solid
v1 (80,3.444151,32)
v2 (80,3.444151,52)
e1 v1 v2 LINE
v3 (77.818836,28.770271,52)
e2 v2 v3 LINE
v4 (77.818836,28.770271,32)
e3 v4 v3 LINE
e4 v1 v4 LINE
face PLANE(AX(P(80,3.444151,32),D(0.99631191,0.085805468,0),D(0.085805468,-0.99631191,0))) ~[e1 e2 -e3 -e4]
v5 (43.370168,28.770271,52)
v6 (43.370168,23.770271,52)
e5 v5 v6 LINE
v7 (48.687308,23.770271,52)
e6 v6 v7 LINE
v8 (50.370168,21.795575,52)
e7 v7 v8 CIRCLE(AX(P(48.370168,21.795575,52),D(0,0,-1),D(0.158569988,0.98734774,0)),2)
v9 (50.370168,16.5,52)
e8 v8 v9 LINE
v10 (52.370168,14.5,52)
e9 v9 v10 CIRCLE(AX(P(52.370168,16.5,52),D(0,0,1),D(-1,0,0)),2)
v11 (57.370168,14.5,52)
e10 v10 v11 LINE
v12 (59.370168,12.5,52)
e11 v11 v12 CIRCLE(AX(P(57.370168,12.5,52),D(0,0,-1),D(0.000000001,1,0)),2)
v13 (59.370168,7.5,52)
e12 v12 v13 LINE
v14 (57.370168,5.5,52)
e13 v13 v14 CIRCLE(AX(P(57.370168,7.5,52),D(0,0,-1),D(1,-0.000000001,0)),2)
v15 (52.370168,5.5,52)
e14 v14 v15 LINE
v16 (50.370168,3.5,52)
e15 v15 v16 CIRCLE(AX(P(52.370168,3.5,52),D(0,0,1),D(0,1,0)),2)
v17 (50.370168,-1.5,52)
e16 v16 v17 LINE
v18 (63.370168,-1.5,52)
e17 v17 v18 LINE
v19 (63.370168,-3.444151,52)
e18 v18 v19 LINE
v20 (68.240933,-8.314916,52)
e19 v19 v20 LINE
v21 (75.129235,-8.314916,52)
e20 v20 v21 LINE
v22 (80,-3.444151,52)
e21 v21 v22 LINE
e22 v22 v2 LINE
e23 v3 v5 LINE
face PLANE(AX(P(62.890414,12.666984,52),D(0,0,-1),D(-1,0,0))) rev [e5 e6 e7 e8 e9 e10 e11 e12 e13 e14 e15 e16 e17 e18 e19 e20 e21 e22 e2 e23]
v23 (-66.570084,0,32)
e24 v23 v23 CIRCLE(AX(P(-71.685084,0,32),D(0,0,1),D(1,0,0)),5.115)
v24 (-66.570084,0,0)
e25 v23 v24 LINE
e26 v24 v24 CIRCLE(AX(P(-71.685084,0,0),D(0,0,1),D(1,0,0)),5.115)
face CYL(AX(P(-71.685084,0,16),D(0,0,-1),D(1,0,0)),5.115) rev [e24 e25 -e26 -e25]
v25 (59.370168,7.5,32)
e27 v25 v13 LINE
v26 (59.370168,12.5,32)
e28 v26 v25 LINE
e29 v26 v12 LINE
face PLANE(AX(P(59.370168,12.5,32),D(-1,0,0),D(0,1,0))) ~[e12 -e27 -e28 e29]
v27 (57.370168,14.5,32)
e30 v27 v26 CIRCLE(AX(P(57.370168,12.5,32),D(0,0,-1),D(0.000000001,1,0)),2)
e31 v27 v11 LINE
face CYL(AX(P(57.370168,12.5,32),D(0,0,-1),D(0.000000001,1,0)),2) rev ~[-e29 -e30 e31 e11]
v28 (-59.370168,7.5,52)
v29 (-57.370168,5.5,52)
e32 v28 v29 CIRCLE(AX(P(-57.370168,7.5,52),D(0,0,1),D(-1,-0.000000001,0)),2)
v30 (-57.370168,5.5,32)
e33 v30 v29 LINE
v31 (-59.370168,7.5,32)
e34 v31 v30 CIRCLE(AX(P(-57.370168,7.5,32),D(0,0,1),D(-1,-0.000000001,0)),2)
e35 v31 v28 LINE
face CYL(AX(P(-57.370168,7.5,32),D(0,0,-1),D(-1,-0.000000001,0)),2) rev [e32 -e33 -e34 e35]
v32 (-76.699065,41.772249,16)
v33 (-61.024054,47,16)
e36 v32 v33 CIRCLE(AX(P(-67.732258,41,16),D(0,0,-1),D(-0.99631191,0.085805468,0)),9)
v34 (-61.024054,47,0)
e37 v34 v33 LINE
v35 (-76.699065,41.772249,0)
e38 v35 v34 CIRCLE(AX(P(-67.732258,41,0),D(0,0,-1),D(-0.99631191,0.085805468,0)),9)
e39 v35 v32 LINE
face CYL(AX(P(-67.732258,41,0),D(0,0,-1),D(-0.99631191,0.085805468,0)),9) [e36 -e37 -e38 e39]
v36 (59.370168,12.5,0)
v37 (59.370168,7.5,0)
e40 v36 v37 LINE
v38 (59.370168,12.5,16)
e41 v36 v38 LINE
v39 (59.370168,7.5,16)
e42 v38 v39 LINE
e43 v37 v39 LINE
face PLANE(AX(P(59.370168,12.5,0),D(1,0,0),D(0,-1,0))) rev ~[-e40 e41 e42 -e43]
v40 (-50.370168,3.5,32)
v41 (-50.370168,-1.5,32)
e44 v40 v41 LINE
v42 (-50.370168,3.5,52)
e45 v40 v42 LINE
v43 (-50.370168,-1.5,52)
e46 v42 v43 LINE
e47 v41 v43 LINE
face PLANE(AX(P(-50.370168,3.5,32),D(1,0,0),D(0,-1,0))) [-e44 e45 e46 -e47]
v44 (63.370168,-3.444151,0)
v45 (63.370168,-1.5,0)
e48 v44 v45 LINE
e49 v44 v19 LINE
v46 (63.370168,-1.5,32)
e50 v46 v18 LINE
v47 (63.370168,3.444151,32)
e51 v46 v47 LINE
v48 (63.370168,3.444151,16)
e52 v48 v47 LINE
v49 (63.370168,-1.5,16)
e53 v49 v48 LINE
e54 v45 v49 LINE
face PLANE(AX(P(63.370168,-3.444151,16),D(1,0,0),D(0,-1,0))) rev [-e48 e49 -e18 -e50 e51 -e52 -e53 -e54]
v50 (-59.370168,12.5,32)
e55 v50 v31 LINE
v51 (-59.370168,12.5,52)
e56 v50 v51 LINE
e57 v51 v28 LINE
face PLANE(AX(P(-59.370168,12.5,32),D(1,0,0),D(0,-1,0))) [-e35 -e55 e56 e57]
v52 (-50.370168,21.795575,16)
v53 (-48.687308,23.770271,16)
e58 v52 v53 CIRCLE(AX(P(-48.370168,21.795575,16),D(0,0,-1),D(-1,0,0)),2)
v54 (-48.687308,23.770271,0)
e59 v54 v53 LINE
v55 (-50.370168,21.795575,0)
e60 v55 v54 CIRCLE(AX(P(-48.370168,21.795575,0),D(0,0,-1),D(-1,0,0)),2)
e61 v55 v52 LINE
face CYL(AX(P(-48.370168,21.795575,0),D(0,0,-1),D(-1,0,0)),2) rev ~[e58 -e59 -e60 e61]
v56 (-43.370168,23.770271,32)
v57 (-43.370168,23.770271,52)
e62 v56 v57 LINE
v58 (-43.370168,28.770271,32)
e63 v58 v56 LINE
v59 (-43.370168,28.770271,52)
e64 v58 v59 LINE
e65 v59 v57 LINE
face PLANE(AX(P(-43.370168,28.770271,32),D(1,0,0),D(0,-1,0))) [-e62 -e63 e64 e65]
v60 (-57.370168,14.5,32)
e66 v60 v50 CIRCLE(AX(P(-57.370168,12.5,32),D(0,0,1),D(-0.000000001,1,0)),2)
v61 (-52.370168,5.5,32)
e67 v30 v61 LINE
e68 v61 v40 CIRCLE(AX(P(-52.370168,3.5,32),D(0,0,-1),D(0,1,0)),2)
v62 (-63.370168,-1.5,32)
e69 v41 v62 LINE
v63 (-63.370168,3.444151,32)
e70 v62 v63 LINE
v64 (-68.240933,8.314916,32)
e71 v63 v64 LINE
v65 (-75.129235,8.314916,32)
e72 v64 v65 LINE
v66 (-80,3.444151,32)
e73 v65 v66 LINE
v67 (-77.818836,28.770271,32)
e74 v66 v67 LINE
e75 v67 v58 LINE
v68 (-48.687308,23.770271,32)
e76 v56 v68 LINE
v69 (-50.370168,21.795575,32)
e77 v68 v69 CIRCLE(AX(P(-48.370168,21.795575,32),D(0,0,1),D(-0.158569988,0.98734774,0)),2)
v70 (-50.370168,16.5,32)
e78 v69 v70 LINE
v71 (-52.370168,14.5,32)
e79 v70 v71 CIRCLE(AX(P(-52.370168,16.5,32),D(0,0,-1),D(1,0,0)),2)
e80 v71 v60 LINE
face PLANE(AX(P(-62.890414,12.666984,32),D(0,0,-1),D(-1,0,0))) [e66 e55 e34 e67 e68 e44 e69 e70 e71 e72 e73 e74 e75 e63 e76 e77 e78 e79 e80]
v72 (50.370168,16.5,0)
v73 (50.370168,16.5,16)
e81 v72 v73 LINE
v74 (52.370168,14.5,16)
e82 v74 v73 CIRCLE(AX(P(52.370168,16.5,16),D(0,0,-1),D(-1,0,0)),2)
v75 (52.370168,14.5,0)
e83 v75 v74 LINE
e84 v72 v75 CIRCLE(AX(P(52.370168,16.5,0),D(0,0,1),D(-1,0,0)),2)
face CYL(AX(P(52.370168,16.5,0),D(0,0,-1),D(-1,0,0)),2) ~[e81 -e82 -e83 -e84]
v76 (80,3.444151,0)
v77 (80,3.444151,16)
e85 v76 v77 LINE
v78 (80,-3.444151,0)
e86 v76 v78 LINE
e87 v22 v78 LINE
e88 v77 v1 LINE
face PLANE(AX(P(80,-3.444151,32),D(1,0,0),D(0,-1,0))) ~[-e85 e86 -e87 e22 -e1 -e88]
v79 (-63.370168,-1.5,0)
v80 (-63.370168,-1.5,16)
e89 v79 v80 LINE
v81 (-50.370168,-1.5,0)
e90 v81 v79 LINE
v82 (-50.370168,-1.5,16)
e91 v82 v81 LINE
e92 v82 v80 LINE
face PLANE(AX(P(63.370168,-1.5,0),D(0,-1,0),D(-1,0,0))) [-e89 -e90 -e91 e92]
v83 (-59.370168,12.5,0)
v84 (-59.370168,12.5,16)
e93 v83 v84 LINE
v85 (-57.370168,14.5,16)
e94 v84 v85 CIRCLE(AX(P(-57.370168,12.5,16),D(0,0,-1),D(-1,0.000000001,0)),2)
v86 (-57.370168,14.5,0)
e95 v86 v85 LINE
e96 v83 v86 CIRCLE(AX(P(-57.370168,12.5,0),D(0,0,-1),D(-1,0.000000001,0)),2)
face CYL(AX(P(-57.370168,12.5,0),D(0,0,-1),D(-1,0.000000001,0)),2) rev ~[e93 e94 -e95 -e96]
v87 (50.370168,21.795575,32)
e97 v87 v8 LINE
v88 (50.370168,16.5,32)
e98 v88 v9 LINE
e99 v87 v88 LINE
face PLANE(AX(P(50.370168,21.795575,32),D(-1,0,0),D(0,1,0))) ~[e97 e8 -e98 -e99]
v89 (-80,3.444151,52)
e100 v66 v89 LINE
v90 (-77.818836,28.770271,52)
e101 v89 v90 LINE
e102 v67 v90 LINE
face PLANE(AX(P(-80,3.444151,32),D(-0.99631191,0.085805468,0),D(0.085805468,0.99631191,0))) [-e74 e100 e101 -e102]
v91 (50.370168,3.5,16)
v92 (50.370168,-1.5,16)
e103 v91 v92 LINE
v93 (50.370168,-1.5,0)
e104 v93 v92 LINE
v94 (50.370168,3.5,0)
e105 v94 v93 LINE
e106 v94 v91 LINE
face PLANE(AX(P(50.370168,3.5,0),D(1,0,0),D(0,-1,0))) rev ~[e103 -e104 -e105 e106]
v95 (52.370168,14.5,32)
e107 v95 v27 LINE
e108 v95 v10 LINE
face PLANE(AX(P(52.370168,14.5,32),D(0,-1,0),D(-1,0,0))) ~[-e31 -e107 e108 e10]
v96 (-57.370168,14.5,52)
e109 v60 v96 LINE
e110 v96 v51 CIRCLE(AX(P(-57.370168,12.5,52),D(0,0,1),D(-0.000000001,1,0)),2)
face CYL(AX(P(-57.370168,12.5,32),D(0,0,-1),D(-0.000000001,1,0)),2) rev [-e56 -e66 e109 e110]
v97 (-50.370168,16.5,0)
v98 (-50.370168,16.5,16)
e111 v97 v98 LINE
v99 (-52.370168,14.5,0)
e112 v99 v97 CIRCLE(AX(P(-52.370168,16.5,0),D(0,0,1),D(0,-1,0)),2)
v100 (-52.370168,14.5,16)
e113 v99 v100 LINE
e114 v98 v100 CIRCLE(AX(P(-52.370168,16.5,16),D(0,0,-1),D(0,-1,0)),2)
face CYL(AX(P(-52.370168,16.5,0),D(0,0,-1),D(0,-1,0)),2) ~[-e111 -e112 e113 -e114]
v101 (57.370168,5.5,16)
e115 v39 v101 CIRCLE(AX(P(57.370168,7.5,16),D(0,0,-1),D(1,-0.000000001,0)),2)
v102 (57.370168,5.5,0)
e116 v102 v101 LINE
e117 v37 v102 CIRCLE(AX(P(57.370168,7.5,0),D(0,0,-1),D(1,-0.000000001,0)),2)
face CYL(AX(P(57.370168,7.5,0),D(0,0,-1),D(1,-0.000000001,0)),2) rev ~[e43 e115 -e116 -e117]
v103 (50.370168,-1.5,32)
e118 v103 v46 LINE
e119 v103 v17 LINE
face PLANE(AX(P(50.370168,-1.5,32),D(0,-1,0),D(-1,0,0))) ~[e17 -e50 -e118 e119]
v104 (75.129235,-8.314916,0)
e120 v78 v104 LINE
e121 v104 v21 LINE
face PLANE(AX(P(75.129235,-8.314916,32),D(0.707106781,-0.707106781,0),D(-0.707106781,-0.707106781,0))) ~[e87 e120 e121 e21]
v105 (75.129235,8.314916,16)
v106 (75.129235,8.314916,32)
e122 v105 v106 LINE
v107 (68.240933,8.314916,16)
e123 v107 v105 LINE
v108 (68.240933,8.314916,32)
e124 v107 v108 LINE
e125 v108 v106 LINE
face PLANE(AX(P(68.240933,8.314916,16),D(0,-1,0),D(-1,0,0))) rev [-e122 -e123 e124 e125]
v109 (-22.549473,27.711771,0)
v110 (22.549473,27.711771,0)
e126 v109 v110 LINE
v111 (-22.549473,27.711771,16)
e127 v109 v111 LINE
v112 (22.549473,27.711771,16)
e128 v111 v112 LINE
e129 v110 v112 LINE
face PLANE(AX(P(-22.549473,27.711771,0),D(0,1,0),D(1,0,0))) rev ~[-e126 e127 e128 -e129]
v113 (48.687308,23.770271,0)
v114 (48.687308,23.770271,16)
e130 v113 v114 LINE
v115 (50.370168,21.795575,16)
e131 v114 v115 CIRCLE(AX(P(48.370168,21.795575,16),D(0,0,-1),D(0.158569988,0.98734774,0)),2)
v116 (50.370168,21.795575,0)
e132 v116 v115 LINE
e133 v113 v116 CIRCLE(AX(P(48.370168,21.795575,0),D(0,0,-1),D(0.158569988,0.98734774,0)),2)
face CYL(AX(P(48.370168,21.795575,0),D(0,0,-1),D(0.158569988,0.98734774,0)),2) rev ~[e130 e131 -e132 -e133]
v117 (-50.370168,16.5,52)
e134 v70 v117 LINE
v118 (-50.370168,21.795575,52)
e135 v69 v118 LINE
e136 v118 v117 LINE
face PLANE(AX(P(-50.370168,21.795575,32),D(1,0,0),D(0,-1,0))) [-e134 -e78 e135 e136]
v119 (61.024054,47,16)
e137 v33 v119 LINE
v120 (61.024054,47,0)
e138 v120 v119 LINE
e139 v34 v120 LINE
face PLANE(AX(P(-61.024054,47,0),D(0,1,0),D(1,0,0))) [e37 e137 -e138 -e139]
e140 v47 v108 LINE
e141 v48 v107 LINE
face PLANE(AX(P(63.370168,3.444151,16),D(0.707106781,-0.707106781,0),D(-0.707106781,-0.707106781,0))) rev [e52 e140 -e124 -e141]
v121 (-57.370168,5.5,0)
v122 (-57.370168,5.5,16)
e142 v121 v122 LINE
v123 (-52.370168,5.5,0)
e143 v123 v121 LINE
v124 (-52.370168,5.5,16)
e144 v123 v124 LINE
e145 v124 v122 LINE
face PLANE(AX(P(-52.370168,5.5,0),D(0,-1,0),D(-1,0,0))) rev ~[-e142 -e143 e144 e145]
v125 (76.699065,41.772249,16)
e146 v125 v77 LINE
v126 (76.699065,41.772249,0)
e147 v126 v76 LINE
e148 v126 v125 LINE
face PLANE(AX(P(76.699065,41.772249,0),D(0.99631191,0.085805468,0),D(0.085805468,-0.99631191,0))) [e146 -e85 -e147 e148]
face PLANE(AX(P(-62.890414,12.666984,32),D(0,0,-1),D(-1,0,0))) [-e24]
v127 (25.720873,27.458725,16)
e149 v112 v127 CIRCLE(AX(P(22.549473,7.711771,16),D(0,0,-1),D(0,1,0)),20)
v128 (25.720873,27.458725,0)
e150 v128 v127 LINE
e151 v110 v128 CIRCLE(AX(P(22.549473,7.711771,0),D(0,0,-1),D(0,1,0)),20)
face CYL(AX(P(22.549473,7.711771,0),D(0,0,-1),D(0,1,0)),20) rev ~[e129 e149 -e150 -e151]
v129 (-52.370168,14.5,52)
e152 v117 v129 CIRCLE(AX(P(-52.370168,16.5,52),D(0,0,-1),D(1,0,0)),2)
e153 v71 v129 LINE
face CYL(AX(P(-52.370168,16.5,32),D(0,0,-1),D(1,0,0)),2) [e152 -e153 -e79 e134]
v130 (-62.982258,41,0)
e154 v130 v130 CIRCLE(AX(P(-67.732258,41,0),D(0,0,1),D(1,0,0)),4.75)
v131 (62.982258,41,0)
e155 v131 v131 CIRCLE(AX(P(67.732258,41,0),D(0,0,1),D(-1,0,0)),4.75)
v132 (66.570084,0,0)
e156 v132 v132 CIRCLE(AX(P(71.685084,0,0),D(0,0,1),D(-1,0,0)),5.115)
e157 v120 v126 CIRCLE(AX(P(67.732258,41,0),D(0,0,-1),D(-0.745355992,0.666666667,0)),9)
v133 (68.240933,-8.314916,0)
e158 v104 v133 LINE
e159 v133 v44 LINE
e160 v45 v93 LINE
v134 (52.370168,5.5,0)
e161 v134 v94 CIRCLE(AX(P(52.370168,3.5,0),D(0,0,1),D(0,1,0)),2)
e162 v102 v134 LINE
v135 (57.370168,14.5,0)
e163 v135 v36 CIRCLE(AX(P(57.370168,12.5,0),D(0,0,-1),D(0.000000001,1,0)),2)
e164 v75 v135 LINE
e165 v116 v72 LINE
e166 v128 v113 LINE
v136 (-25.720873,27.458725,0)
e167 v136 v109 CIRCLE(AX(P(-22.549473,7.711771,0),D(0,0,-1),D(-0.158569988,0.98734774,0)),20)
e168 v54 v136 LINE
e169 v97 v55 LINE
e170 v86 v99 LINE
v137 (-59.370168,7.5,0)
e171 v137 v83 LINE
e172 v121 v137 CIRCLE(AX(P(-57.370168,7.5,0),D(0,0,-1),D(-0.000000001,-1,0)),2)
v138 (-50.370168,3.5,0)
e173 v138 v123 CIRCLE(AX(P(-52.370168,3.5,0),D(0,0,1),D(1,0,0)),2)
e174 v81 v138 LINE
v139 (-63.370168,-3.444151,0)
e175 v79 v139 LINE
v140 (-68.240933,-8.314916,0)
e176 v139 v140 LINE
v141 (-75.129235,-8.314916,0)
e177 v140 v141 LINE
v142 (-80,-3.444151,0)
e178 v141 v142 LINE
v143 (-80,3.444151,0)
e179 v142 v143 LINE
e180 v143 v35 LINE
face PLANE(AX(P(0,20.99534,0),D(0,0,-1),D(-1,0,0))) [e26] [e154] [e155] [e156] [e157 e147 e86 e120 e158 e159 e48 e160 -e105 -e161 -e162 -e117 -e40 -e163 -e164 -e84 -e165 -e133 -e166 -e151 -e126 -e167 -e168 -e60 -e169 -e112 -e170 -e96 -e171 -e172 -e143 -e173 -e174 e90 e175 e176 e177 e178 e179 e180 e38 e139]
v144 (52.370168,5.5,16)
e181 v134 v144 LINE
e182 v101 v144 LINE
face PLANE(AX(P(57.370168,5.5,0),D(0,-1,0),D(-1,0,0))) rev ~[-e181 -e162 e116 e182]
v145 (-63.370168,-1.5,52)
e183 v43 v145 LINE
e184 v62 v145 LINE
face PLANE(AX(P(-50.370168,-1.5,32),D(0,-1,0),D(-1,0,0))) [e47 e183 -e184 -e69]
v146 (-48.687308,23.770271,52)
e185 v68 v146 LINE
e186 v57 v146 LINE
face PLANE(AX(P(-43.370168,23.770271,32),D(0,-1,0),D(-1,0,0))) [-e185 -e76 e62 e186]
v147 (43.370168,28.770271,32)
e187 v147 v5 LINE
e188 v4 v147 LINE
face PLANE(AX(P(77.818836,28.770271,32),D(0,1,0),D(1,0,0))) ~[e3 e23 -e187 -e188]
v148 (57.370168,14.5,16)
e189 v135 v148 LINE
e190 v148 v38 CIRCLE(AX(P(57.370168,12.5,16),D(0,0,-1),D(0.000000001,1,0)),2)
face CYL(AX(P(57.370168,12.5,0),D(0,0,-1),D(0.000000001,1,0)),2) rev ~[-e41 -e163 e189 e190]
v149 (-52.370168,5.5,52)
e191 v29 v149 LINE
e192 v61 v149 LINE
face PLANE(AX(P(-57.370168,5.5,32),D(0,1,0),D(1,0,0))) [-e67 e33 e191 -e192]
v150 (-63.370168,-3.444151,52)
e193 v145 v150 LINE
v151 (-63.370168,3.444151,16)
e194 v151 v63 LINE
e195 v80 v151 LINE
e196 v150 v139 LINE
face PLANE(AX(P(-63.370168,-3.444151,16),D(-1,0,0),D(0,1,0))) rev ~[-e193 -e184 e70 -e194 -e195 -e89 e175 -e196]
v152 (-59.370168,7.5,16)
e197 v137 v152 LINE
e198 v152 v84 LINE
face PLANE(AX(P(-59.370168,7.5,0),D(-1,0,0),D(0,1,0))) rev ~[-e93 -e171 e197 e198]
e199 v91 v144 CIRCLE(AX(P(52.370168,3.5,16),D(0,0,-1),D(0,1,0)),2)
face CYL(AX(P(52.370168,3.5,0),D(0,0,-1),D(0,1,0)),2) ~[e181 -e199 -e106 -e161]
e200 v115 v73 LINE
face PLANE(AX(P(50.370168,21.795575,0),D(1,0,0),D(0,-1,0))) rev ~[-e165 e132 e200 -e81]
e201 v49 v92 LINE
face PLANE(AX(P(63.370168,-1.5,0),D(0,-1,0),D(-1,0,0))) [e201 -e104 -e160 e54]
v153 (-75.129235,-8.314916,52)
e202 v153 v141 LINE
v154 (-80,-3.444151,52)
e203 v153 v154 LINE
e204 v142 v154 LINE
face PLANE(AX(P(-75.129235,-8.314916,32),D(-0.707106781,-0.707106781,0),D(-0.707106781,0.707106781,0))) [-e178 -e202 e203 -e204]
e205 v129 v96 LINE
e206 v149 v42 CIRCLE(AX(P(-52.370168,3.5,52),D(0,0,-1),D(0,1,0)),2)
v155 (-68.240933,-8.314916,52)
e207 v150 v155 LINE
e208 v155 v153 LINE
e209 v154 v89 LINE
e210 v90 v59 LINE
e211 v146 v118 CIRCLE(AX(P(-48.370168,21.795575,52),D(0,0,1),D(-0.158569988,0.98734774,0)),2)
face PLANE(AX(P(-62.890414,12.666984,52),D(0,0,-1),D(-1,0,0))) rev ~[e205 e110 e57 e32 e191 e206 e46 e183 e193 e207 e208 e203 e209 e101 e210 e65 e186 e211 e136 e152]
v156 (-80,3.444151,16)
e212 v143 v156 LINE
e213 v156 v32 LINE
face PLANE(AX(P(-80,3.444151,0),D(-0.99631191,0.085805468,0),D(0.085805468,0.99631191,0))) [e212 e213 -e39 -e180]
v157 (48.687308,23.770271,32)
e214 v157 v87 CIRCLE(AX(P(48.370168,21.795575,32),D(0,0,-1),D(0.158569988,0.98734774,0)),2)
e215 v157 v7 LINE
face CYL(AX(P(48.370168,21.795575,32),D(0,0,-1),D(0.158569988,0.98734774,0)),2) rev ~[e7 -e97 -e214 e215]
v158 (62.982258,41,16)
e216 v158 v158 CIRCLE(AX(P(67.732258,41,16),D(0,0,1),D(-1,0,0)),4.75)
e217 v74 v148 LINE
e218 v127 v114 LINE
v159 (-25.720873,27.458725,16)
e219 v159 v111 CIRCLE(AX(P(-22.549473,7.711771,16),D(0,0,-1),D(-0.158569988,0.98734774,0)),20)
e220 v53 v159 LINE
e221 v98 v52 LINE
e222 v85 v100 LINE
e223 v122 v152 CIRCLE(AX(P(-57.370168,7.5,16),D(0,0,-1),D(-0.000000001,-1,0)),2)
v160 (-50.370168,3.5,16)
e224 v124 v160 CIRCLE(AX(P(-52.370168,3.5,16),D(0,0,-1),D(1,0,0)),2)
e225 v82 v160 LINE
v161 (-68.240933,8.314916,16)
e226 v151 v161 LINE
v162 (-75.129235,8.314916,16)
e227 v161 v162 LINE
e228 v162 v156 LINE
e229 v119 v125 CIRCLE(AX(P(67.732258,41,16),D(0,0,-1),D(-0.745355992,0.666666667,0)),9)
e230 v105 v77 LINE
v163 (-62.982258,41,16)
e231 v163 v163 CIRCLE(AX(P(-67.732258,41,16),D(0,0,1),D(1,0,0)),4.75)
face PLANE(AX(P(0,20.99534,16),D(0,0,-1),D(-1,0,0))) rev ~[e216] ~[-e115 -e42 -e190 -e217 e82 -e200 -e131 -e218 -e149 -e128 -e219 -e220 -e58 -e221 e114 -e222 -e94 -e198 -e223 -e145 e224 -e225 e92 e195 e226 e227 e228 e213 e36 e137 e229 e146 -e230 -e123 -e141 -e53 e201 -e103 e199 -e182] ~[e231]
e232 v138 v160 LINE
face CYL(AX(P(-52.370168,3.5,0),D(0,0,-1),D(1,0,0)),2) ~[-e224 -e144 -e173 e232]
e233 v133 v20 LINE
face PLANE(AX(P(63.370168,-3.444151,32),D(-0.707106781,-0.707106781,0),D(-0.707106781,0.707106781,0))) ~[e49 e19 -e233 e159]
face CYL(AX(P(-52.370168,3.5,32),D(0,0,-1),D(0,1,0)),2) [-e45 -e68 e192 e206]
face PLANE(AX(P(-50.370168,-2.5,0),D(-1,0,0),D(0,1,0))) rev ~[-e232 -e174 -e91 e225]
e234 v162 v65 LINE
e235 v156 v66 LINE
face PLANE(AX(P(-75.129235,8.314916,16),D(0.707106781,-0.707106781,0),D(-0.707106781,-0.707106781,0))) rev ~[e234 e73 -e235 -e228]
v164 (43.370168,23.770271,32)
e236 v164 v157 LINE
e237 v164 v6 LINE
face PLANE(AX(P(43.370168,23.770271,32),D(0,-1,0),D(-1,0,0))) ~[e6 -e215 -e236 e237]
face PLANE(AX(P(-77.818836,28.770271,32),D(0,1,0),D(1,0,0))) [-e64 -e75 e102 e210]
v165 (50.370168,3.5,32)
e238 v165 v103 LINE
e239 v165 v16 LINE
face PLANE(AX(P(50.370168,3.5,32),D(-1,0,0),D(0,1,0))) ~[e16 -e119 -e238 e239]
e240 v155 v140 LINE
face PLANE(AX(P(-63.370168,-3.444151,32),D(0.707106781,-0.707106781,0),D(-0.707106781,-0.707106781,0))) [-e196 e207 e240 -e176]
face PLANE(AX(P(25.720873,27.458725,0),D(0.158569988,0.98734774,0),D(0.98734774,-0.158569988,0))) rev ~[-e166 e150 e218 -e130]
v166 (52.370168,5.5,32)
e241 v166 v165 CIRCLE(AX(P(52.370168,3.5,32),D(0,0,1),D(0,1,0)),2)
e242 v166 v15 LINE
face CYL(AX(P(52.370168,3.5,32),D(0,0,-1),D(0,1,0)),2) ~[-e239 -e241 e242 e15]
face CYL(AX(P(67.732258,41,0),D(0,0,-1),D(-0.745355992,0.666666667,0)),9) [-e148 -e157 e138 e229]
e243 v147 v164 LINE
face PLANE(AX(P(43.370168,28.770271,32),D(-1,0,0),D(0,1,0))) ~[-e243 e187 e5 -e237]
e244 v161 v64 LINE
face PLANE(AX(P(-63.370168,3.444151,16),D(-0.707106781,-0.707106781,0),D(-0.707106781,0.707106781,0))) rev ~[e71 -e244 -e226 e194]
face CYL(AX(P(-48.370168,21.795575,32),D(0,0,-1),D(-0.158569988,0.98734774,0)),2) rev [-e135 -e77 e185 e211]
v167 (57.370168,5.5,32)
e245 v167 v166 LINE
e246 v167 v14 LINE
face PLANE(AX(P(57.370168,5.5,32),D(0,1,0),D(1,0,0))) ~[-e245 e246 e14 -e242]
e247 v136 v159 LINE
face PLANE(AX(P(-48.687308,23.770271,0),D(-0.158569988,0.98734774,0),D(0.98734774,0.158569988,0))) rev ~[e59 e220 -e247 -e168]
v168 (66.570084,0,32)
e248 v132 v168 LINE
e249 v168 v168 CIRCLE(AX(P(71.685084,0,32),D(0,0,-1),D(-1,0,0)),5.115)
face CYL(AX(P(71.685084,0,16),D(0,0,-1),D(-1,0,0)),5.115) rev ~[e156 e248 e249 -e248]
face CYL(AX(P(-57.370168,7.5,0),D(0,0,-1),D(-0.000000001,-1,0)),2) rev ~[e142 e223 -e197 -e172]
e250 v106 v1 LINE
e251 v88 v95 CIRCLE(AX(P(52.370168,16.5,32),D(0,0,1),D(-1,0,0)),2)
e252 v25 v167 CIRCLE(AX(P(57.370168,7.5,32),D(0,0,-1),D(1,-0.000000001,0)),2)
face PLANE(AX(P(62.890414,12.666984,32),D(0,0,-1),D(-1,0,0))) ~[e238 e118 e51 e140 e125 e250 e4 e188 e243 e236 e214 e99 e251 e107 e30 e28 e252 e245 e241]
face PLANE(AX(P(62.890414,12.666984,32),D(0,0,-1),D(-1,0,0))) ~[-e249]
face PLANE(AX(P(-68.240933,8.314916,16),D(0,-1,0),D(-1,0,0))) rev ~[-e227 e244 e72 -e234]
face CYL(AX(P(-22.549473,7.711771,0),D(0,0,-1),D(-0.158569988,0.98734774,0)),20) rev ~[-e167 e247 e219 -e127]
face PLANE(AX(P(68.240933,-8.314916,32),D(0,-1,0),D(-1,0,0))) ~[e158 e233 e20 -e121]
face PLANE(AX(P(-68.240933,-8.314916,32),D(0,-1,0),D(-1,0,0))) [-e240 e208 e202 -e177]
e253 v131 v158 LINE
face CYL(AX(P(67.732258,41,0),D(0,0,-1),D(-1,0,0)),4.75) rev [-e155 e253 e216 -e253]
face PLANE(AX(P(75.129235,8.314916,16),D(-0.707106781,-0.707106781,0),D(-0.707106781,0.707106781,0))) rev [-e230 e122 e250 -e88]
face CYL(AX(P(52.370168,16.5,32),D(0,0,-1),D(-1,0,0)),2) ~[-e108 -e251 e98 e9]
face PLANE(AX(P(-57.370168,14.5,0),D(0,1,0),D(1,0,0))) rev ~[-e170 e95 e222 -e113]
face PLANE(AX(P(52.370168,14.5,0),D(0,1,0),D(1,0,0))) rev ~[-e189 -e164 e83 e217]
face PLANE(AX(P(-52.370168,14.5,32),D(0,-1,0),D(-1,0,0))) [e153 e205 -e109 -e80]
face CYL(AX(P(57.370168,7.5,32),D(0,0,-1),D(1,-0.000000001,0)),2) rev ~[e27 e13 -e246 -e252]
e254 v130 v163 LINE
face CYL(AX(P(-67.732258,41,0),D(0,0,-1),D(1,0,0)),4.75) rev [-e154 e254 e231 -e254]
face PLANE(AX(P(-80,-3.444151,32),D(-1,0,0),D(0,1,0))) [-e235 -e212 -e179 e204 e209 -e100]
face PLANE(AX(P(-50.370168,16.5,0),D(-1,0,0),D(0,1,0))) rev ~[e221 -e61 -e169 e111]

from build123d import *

# Parameters (mm, degrees)
SKETCH1_R           = 5.115
SKETCH1_R_2         = 4.75
BOSS_EXTRUDE1_DEPTH = 16
CUT_EXTRUDE1_DEPTH  = 96.686989711
SKETCH3_R           = 5.115
BOSS_EXTRUDE2_DEPTH = 16
BOSS_EXTRUDE3_DEPTH = 20


with BuildPart() as part:
    # Sketch1 → Boss-Extrude1 (new body)
    with BuildSketch(Plane.XY):
        with BuildLine():
            Line((-80, 3.444150891), (-76.699065455, 41.772249209))
            ThreePointArc((-76.699065455, 41.772249209), (-70.579654753, 49.5377007), (-61.024054334, 47))
            Line((-61.024054334, 47), (61.024054334, 47))
            ThreePointArc((61.024054334, 47), (70.579654753, 49.5377007), (76.699065455, 41.772249209))
            Line((76.699065455, 41.772249209), (80, 3.444150891))
            Line((80, 3.444150891), (80, -3.444150891))
            Line((80, -3.444150891), (75.129235099, -8.314915793))
            Line((75.129235099, -8.314915793), (68.240933316, -8.314915793))
            Line((68.240933316, -8.314915793), (63.370168415, -3.444150891))
            Line((63.370168415, -3.444150891), (63.370168415, -1.5))
            Line((63.370168415, -1.5), (-63.370168415, -1.5))
            Line((-63.370168415, -1.5), (-63.370168415, -3.444150891))
            Line((-63.370168415, -3.444150891), (-68.240933316, -8.314915793))
            Line((-68.240933316, -8.314915793), (-75.129235099, -8.314915793))
            Line((-75.129235099, -8.314915793), (-80, -3.444150891))
            Line((-80, -3.444150891), (-80, 3.444150891))
        make_face()
        with Locations((-71.685084207, 0)):
            Circle(SKETCH1_R, mode=Mode.SUBTRACT)
        with Locations((-67.732258267, 41)):
            Circle(SKETCH1_R_2, mode=Mode.SUBTRACT)
        with Locations(Location((67.732258267, 41, 0), (0, 0, 180))):
            Circle(SKETCH1_R_2, mode=Mode.SUBTRACT)
        with Locations(Location((71.685084207, 0, 0), (0, 0, 180))):
            Circle(SKETCH1_R, mode=Mode.SUBTRACT)
    extrude(amount=BOSS_EXTRUDE1_DEPTH)

    # Sketch2 → Cut-Extrude1 (cut, through all)
    with BuildSketch(Plane(origin=(0, 0, 0), x_dir=(-1, 0, 0), z_dir=(0, 0, -1))):
        with BuildLine():
            Line((-50.370168415, 3.5), (-50.370168415, -2.5))
            Line((-50.370168415, -2.5), (50.370168415, -2.5))
            Line((50.370168415, -2.5), (50.370168415, 3.5))
            ThreePointArc((50.370168415, 3.5), (50.955954852, 4.914213562), (52.370168415, 5.5))
            Line((52.370168415, 5.5), (57.370168415, 5.5))
            ThreePointArc((57.370168415, 5.5), (58.784381977, 6.085786438), (59.370168415, 7.5))
            Line((59.370168415, 7.5), (59.370168415, 12.5))
            ThreePointArc((59.370168415, 12.5), (58.784381977, 13.914213562), (57.370168415, 14.5))
            Line((57.370168415, 14.5), (52.370168415, 14.5))
            ThreePointArc((52.370168415, 14.5), (50.955954852, 15.085786438), (50.370168415, 16.5))
            Line((50.370168415, 16.5), (50.370168415, 21.795575149))
            ThreePointArc((50.370168415, 21.795575149), (49.892383898, 23.092826098), (48.687308391, 23.770270629))
            Line((48.687308391, 23.770270629), (25.72087261, 27.45872537))
            ThreePointArc((25.72087261, 27.45872537), (24.140212323, 27.648408909), (22.549472845, 27.711770579))
            Line((22.549472845, 27.711770579), (-22.549472845, 27.711770579))
            ThreePointArc((-22.549472845, 27.711770579), (-24.140212323, 27.648408909), (-25.72087261, 27.45872537))
            Line((-25.72087261, 27.45872537), (-48.687308391, 23.770270629))
            ThreePointArc((-48.687308391, 23.770270629), (-49.892383898, 23.092826098), (-50.370168415, 21.795575149))
            Line((-50.370168415, 21.795575149), (-50.370168415, 16.5))
            ThreePointArc((-50.370168415, 16.5), (-50.955954852, 15.085786438), (-52.370168415, 14.5))
            Line((-52.370168415, 14.5), (-57.370168415, 14.5))
            ThreePointArc((-57.370168415, 14.5), (-58.784381977, 13.914213562), (-59.370168415, 12.5))
            Line((-59.370168415, 12.5), (-59.370168415, 7.5))
            ThreePointArc((-59.370168415, 7.5), (-58.784381977, 6.085786438), (-57.370168415, 5.5))
            Line((-57.370168415, 5.5), (-52.370168415, 5.5))
            ThreePointArc((-52.370168415, 5.5), (-50.955954852, 4.914213562), (-50.370168415, 3.5))
        make_face()
    extrude(amount=-CUT_EXTRUDE1_DEPTH, mode=Mode.SUBTRACT)

    # Sketch3 → Boss-Extrude2 (add)
    with BuildSketch(Plane.XY.offset(16)):
        Polygon((-80, 3.444150891), (-80, -3.444150891), (-75.129235099, -8.314915793), (-68.240933316, -8.314915793), (-63.370168415, -3.444150891), (-63.370168415, 3.444150891), (-68.240933316, 8.314915793), (-75.129235099, 8.314915793), align=None)
        with Locations((-71.685084207, 0)):
            Circle(SKETCH3_R, mode=Mode.SUBTRACT)
    boss_extrude2 = extrude(amount=BOSS_EXTRUDE2_DEPTH)

    # Mirror1: Boss-Extrude2 across plane
    add(boss_extrude2.mirror(Plane(origin=(0, 0, 0), x_dir=(0, 0, 1), z_dir=(1, 0, 0))))

    # Sketch4 → Boss-Extrude3 (add)
    with BuildSketch(Plane.XY.offset(32)):
        with BuildLine():
            Line((-77.818836123, 28.770270629), (-43.370168415, 28.770270629))
            Line((-43.370168415, 28.770270629), (-43.370168415, 23.770270629))
            Line((-43.370168415, 23.770270629), (-48.687308391, 23.770270629))
            ThreePointArc((-48.687308391, 23.770270629), (-49.892383898, 23.092826098), (-50.370168415, 21.795575149))
            Line((-50.370168415, 21.795575149), (-50.370168415, 16.5))
            ThreePointArc((-50.370168415, 16.5), (-50.955954852, 15.085786438), (-52.370168415, 14.5))
            Line((-52.370168415, 14.5), (-57.370168415, 14.5))
            ThreePointArc((-57.370168415, 14.5), (-58.784381977, 13.914213562), (-59.370168415, 12.5))
            Line((-59.370168415, 12.5), (-59.370168415, 7.5))
            ThreePointArc((-59.370168415, 7.5), (-58.784381977, 6.085786438), (-57.370168415, 5.5))
            Line((-57.370168415, 5.5), (-52.370168415, 5.5))
            ThreePointArc((-52.370168415, 5.5), (-50.955954852, 4.914213562), (-50.370168415, 3.5))
            Line((-50.370168415, 3.5), (-50.370168415, -1.5))
            Line((-50.370168415, -1.5), (-63.370168415, -1.5))
            Line((-63.370168415, -1.5), (-63.370168415, -3.444150891))
            Line((-63.370168415, -3.444150891), (-68.240933316, -8.314915793))
            Line((-68.240933316, -8.314915793), (-75.129235099, -8.314915793))
            Line((-75.129235099, -8.314915793), (-80, -3.444150891))
            Line((-80, -3.444150891), (-80, 3.444150891))
            Line((-80, 3.444150891), (-77.818836123, 28.770270629))
        make_face()
    boss_extrude3 = extrude(amount=BOSS_EXTRUDE3_DEPTH)

    # Mirror2: Boss-Extrude3 across plane
    add(boss_extrude3.mirror(Plane(origin=(0, 0, 0), x_dir=(0, 0, 1), z_dir=(1, 0, 0))))


solid = part.part
